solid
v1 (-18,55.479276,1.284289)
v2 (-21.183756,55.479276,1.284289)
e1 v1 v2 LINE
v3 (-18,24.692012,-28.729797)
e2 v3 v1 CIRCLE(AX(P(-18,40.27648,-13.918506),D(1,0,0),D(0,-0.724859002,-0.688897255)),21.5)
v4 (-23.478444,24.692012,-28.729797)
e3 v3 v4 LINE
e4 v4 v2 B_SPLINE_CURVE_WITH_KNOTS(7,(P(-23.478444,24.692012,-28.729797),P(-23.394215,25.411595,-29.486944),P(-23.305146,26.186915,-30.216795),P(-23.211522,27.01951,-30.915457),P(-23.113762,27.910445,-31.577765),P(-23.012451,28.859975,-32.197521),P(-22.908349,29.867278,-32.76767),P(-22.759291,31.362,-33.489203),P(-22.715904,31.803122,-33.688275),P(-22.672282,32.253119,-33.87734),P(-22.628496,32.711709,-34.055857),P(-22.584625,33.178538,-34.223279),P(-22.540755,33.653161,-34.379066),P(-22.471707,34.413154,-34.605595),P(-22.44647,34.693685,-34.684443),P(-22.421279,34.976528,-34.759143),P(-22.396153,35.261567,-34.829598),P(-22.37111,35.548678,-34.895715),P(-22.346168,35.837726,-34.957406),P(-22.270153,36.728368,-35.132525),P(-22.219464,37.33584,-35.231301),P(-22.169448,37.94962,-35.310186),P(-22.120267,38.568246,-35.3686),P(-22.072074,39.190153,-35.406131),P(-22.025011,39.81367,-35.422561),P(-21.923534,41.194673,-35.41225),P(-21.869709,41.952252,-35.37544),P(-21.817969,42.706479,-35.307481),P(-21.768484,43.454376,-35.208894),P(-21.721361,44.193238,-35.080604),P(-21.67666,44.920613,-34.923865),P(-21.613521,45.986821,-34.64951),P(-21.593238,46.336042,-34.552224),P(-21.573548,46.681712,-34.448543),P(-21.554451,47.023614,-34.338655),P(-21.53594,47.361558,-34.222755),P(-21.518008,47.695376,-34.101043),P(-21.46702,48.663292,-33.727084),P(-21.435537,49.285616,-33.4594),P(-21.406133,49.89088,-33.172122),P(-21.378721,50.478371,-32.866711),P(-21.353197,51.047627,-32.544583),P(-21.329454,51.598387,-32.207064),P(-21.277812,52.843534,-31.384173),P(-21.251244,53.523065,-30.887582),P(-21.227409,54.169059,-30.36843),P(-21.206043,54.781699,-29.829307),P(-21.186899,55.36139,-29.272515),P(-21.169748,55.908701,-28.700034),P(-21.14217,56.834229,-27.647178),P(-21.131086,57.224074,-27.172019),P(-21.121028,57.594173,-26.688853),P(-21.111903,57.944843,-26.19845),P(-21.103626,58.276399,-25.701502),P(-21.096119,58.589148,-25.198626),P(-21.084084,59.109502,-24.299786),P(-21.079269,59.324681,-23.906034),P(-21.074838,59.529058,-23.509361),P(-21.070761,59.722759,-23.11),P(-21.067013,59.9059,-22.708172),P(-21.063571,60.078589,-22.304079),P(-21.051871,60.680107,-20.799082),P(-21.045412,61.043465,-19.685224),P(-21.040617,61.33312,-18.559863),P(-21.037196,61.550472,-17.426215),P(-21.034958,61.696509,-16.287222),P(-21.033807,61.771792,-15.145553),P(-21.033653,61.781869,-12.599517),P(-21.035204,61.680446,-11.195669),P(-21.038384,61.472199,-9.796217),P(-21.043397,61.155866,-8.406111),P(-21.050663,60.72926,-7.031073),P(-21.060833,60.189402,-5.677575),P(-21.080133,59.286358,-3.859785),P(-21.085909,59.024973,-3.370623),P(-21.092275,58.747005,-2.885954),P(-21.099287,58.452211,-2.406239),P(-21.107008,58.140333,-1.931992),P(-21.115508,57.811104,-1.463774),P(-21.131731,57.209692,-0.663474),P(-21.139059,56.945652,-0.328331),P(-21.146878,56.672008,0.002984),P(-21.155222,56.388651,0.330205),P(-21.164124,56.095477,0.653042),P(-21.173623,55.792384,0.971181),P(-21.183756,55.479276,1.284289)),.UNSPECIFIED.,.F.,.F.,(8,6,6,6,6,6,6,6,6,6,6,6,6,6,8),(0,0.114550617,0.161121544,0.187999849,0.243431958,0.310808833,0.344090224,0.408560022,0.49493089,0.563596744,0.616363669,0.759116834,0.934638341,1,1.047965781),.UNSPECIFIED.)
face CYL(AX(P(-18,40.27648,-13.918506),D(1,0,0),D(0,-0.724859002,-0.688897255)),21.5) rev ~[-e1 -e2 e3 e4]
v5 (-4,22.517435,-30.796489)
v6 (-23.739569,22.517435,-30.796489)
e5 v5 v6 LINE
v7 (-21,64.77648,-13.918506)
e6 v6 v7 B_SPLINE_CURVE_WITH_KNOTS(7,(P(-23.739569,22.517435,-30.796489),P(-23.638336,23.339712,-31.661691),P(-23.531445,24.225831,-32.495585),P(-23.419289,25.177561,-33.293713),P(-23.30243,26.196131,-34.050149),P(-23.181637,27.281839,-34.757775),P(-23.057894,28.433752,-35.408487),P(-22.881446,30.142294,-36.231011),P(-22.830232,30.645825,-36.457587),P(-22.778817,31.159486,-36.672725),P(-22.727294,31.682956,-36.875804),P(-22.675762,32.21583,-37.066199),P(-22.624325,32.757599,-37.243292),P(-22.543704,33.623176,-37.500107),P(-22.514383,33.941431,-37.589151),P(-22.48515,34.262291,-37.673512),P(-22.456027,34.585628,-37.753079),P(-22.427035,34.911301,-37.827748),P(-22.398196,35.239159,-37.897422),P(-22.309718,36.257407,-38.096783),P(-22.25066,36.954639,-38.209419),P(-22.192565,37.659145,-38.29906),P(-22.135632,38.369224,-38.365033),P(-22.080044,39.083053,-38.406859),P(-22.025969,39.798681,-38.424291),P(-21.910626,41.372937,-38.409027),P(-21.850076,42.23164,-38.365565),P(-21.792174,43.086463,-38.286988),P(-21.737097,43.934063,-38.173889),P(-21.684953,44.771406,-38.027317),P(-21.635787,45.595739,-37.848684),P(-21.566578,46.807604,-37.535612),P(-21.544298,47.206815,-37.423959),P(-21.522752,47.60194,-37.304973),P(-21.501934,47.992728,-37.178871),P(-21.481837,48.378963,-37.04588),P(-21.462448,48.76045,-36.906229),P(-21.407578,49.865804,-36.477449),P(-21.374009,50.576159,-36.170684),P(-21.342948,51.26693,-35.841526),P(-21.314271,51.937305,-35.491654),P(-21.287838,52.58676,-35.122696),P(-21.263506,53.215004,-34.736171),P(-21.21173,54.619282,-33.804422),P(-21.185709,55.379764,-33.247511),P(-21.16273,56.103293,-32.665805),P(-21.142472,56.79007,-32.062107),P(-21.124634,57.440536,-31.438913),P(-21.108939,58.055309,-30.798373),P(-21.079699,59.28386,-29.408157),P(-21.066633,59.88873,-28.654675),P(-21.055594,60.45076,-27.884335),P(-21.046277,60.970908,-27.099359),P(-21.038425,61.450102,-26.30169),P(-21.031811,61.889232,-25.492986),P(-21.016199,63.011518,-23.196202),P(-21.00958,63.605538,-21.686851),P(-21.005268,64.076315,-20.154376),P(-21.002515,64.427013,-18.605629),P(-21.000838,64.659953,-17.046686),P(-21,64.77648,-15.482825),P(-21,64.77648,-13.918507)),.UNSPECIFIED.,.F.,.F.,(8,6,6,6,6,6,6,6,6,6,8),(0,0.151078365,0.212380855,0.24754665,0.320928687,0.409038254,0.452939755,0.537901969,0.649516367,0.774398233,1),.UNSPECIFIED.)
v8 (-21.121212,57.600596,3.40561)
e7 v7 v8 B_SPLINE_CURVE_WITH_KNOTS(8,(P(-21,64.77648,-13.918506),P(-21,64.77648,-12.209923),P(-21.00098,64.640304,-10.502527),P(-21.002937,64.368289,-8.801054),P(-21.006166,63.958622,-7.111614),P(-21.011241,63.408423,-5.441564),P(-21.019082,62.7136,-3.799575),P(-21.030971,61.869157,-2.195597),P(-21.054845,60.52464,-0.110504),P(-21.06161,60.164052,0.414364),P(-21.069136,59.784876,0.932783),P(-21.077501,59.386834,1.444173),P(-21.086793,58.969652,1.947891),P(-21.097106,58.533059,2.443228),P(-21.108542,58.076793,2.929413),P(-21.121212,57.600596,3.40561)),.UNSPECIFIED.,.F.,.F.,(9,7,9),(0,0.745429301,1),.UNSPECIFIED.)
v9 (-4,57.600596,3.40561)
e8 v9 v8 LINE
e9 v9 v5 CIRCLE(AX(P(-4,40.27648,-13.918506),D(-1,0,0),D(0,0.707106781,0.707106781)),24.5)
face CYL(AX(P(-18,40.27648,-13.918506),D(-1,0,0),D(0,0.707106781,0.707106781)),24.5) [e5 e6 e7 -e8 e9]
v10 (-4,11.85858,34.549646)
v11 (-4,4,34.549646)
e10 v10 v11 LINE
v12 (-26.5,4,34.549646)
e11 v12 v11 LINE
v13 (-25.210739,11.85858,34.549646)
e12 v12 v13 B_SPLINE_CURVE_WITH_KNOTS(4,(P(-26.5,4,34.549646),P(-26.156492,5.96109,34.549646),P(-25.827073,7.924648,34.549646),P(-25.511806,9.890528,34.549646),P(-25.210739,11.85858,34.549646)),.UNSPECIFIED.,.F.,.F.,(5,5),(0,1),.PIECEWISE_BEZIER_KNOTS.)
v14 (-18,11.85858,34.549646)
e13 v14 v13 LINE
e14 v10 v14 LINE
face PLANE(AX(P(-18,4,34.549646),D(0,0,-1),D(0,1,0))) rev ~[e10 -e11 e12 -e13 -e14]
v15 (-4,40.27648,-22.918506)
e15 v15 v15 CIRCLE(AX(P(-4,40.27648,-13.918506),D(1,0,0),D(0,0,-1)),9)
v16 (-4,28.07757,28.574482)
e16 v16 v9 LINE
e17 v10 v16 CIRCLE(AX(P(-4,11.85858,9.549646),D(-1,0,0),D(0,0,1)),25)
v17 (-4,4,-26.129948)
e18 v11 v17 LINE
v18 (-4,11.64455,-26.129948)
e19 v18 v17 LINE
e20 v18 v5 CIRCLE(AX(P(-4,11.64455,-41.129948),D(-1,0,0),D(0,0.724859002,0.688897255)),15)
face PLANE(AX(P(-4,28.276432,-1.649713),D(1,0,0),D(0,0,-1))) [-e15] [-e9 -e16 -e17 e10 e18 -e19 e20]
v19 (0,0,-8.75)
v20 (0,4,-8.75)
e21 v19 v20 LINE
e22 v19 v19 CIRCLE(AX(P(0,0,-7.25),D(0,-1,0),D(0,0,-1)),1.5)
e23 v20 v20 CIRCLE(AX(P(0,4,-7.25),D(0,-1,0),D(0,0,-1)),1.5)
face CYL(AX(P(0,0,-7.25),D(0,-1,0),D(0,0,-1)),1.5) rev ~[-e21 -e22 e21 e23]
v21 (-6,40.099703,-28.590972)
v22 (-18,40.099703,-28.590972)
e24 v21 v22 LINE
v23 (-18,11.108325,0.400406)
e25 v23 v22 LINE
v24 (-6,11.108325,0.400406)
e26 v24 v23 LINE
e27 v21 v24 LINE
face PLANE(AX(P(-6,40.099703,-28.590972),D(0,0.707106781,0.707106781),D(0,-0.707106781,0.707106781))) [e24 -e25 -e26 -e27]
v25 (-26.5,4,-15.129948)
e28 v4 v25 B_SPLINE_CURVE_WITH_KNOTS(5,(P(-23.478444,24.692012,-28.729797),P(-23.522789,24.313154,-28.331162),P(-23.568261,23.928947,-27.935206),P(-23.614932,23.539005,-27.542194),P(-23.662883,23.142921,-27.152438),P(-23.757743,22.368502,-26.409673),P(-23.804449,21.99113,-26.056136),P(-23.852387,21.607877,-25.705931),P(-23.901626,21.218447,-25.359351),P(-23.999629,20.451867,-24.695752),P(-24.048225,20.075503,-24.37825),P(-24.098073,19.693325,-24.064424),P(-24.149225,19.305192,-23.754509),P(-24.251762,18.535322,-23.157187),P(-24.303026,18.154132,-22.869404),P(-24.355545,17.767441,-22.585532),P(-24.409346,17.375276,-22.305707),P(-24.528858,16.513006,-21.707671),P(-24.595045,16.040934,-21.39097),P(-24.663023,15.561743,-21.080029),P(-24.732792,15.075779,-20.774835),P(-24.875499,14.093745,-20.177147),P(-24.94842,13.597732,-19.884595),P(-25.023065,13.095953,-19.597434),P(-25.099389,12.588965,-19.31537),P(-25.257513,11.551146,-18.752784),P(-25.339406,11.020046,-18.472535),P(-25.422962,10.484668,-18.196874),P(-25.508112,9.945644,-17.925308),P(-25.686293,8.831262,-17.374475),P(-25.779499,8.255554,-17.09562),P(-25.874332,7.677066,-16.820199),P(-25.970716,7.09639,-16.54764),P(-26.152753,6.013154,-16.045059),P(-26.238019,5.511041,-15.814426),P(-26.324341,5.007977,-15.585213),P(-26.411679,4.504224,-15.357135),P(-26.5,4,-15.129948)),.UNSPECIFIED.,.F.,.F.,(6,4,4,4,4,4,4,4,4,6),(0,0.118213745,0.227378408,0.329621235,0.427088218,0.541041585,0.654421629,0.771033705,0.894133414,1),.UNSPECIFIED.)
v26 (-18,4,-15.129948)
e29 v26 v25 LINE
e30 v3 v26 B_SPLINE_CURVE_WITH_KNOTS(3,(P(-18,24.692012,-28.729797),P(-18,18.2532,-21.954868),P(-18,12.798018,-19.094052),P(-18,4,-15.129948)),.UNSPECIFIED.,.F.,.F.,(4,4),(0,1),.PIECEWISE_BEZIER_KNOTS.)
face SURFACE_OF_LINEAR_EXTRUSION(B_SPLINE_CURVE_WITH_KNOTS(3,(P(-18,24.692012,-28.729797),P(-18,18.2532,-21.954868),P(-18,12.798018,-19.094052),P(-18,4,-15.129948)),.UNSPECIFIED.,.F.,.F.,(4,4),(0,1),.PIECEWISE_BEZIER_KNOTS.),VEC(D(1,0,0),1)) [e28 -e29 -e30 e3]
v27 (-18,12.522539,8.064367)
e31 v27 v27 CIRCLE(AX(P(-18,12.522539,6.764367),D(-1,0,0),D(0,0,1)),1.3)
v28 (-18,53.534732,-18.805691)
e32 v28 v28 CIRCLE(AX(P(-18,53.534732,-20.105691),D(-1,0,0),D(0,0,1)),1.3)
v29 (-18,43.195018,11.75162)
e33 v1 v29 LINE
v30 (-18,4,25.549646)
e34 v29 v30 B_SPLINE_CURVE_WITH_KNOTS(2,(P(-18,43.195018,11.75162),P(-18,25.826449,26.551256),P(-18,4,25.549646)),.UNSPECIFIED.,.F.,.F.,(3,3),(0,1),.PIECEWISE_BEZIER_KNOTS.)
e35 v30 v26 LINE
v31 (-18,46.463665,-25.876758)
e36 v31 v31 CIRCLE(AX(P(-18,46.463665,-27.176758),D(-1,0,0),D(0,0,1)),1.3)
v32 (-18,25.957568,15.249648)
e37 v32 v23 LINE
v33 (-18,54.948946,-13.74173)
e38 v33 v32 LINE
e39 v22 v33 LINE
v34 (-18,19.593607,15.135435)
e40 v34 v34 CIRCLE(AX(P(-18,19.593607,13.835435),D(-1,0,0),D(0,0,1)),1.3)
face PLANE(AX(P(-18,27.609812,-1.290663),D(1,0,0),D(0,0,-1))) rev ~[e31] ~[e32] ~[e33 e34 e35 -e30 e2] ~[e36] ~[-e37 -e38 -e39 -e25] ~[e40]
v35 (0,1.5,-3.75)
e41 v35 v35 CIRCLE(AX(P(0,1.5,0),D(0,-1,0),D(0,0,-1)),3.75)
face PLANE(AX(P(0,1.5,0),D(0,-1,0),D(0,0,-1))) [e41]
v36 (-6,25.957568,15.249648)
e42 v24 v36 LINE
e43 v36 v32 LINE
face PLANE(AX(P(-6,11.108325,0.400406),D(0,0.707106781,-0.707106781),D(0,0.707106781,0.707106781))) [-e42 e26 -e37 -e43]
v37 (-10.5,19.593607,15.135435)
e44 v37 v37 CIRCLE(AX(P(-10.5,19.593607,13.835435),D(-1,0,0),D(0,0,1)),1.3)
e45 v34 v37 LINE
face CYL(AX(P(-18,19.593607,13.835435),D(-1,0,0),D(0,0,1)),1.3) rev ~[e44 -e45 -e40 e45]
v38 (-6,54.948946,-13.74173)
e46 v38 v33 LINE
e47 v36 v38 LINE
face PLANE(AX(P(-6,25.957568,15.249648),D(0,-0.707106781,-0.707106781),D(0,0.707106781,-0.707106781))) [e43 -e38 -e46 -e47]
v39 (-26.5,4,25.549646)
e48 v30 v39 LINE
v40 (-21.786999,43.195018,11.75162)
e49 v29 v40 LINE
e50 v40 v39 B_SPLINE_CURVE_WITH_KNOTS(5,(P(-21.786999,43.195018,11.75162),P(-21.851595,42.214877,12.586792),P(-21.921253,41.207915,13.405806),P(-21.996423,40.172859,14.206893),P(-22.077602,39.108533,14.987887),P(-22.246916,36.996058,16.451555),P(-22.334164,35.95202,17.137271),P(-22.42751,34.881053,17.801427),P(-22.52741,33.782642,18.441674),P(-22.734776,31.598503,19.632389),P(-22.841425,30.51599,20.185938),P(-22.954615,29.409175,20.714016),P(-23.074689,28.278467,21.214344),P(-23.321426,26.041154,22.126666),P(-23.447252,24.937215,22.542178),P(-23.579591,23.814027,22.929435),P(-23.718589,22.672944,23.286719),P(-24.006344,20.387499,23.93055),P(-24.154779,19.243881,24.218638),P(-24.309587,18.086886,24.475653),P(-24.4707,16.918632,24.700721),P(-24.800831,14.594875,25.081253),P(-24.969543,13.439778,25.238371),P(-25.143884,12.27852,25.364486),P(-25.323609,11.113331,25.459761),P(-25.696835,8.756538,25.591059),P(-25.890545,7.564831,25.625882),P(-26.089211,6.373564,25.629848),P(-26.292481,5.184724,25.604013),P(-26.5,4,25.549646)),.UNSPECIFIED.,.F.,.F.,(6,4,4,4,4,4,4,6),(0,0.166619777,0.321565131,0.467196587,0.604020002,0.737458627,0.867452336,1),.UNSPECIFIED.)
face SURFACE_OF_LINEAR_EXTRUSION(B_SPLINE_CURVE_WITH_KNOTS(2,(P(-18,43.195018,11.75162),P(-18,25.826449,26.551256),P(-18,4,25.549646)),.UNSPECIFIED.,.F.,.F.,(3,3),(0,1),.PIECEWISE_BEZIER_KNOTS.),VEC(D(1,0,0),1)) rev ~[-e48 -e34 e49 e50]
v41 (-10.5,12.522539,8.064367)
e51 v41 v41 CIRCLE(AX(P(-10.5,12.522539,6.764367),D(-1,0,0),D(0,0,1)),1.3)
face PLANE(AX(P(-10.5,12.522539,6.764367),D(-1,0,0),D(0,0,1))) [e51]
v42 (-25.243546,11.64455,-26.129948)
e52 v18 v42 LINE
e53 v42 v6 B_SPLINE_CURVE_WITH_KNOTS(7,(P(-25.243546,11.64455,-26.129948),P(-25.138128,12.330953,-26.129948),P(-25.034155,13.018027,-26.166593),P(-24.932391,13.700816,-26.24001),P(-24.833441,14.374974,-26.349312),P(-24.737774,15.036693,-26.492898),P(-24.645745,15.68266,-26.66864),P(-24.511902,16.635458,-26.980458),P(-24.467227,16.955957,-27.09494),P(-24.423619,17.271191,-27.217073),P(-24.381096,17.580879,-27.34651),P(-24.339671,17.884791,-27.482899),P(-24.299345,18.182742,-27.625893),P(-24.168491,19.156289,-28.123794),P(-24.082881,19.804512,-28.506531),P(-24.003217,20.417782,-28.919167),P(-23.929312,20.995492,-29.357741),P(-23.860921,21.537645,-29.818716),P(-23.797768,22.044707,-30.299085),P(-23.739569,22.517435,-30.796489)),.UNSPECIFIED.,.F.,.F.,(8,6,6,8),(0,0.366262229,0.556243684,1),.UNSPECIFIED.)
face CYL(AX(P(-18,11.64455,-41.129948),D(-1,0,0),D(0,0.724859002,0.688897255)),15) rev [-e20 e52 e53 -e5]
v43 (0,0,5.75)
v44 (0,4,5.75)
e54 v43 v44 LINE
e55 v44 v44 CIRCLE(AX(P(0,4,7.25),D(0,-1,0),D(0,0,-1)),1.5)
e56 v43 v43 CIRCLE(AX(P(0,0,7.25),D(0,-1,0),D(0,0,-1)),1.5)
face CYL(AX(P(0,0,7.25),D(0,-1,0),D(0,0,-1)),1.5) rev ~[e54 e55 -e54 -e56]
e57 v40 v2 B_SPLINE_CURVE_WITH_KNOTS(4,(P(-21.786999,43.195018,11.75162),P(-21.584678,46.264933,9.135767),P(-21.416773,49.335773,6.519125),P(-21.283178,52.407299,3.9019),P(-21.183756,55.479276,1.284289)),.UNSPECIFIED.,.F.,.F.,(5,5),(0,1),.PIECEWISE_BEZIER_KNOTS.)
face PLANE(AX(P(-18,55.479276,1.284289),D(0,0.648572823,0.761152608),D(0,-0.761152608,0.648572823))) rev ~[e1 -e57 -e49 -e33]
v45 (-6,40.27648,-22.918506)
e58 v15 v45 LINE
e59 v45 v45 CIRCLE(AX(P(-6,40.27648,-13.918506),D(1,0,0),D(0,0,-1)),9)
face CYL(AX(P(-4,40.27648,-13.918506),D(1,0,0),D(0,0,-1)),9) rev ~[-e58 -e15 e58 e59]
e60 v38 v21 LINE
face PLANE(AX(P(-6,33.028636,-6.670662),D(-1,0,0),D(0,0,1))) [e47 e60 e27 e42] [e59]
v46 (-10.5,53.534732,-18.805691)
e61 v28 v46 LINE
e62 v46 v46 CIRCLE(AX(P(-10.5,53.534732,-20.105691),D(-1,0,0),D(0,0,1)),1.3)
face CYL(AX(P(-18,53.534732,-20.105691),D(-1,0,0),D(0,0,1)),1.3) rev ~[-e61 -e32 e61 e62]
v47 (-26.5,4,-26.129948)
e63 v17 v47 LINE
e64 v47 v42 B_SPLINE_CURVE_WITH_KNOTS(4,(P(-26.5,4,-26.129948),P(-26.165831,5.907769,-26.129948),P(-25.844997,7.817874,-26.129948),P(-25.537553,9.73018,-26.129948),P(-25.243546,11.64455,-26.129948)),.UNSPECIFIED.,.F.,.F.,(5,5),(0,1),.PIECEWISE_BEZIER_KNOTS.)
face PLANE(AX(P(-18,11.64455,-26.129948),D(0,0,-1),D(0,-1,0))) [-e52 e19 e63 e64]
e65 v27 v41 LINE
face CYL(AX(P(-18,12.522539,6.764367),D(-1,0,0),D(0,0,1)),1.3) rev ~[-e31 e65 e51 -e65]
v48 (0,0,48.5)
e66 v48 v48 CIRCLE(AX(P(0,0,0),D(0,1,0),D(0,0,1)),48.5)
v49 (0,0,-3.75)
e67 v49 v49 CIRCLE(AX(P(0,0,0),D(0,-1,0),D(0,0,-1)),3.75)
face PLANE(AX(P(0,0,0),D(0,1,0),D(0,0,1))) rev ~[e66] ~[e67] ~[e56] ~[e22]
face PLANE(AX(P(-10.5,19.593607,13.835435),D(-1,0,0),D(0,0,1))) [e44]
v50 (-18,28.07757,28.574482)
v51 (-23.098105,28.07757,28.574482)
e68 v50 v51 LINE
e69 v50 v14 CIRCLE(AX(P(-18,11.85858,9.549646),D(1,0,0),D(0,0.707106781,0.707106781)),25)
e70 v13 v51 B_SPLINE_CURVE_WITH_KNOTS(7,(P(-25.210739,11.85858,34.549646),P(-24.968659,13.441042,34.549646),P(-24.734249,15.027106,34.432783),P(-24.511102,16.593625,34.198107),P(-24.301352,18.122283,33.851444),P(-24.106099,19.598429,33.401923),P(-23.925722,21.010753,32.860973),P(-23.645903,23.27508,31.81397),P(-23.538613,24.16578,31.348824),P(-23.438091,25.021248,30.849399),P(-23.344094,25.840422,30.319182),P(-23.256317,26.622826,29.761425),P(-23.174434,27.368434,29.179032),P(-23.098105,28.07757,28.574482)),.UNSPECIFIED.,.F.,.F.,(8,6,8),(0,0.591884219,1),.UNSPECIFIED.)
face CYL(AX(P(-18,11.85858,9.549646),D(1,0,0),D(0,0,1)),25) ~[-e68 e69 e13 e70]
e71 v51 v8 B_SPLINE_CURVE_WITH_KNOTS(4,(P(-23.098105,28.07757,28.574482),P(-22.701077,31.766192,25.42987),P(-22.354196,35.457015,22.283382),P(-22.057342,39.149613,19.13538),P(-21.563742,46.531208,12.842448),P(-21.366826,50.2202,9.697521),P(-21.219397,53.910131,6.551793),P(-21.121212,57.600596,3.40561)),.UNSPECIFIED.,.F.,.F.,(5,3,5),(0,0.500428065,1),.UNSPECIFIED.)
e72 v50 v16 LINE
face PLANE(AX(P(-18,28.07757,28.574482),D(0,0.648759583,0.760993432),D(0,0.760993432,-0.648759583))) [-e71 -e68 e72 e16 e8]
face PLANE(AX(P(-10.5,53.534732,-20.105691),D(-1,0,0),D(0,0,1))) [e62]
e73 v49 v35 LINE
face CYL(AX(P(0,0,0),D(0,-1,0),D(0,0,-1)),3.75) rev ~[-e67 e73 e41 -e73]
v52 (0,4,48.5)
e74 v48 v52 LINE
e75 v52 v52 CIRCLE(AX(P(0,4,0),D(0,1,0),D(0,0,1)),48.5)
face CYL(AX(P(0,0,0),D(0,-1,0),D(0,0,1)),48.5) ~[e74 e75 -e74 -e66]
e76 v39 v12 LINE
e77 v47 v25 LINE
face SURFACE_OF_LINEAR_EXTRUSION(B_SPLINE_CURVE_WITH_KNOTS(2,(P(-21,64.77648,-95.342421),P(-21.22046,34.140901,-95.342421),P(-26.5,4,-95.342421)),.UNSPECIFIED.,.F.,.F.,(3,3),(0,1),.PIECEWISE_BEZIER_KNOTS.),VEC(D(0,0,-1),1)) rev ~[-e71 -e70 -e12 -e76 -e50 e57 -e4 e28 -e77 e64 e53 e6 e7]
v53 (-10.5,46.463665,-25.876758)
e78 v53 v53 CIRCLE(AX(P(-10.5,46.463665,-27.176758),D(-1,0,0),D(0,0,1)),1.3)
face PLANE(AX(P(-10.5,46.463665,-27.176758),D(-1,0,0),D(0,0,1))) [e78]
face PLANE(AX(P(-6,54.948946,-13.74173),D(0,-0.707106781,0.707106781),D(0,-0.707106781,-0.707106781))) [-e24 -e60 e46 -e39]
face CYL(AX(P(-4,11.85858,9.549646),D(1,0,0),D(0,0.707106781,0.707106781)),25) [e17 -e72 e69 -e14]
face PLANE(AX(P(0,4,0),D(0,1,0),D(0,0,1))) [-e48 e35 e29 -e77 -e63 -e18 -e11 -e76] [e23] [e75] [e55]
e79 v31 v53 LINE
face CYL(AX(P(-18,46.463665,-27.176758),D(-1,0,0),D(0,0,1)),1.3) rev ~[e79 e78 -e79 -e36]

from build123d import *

# Parameters (mm, degrees)
SKETCH2_R                       = 48.5
BOSS_EXTRUDE1_DEPTH             = 4
SKETCH4_R                       = 1.5
CUT_EXTRUDE2_DEPTH              = 69.705894944
SKETCH5_R                       = 3.75
CUT_EXTRUDE3_DEPTH              = 1.5
BOSS_EXTRUDE2_DEPTH             = 14
CUT_EXTRUDE5_REACH              = 97.597
SKETCH9_R                       = 1.3
CUT_EXTRUDE6_DEPTH              = 7.5
CUT_EXTRUDE9_REACH              = 96.471
SKETCH11_R                      = 9
BOSS_EXTRUDE7_DEPTH             = 9
BOSS_EXTRUDE7_DIRECTION_2_REACH = 104.912
BOSS_EXTRUDE10_DEPTH            = 9
CUT_EXTRUDE17_DEPTH             = 95.342420983
CUT_EXTRUDE17_DEPTH_BACK        = 95.342420983


with BuildPart() as part:
    # Sketch2 → Boss-Extrude1 (new body)
    with BuildSketch(Plane(origin=(0, 0, 0), x_dir=(1, 0, 0), z_dir=(0, 1, 0))):
        with Locations(Location((0, 0, 0), (0, 0, 270))):
            Circle(SKETCH2_R)
    extrude(amount=BOSS_EXTRUDE1_DEPTH)

    # Sketch4 → Cut-Extrude2 (cut, through all)
    with BuildSketch(Plane.XZ):
        with Locations(Location((0, 7.25, 0), (0, 0, 270))):
            Circle(SKETCH4_R)
        with Locations(Location((0, -7.25, 0), (0, 0, 270))):
            Circle(SKETCH4_R)
    extrude(amount=-CUT_EXTRUDE2_DEPTH, mode=Mode.SUBTRACT)

    # Sketch5 → Cut-Extrude3 (cut)
    with BuildSketch(Plane.XZ):
        with Locations(Location((0, 0, 0), (0, 0, 270))):
            Circle(SKETCH5_R)
    extrude(amount=-CUT_EXTRUDE3_DEPTH, mode=Mode.SUBTRACT)

    # Sketch7 → Boss-Extrude2 (add)
    with BuildSketch(Plane(origin=(-4, 0, 0), x_dir=(0, 0, -1), z_dir=(1, 0, 0))):
        with BuildLine():
            Line((23.129947874, 4), (23.129947874, 11.644549616))
            ThreePointArc((23.129947874, 11.644549616), (24.589048403, 18.743749901), (28.729797284, 24.692011643))
            ThreePointArc((28.729797284, 24.692011643), (29.313383054, 55.284736897), (-1.284289494, 55.479275971))
            Line((-1.284289494, 55.479275971), (-27.227315747, 29.536249718))
            ThreePointArc((-27.227315747, 29.536249718), (-32.64663453, 21.425665997), (-34.549646217, 11.858580188))
            Line((-34.549646217, 11.858580188), (-34.549646217, 4))
            Line((-34.549646217, 4), (23.129947874, 4))
        make_face()
    extrude(amount=-BOSS_EXTRUDE2_DEPTH)

    # Sketch8 → Cut-Extrude5 (cut, up to next)
    with BuildSketch(Plane(origin=(-6, 0, 0), x_dir=(0, 0, -1), z_dir=(1, 0, 0)), mode=Mode.PRIVATE) as cut_extrude5_sk1:
        Polygon((-15.249648422, 25.957567857), (13.741729607, 54.948945886), (28.590972012, 40.099703481), (-0.400406017, 11.108325452), align=None)
    cut_extrude5_tool1 = extrude(cut_extrude5_sk1.sketch, amount=-CUT_EXTRUDE5_REACH, mode=Mode.PRIVATE) & part.part
    add(cut_extrude5_tool1.solids().sort_by_distance((-6, 33.028636, -6.670662))[0], mode=Mode.SUBTRACT)

    # Sketch9 → Cut-Extrude6 (cut)
    with BuildSketch(Plane.ZY.offset(18)):
        with Locations((-20.105690637, 53.534732323)):
            Circle(SKETCH9_R)
        with Locations((-27.176758449, 46.463664511)):
            Circle(SKETCH9_R)
        with Locations((6.764367048, 12.522539014)):
            Circle(SKETCH9_R)
        with Locations((13.83543486, 19.593606826)):
            Circle(SKETCH9_R)
    extrude(amount=-CUT_EXTRUDE6_DEPTH, mode=Mode.SUBTRACT)

    # Sketch11 → Cut-Extrude9 (cut, up to next)
    with BuildSketch(Plane(origin=(-4, 0, 0), x_dir=(0, 0, -1), z_dir=(1, 0, 0)), mode=Mode.PRIVATE) as cut_extrude9_sk1:
        with Locations((13.918506302, 40.276480176)):
            Circle(SKETCH11_R)
    cut_extrude9_tool1 = extrude(cut_extrude9_sk1.sketch, amount=-CUT_EXTRUDE9_REACH, mode=Mode.PRIVATE) & part.part
    add(cut_extrude9_tool1.solids().sort_by_distance((-4, 40.27648, -13.918506))[0], mode=Mode.SUBTRACT)

    # Sketch17 → Boss-Extrude7 (add)
    with BuildSketch(Plane.ZY.offset(18)):
        with BuildLine():
            ThreePointArc((34.549646217, 11.858580188), (33.008342843, 20.500891953), (28.574482006, 28.077569775))
            ThreePointArc((28.574482006, 28.077569775), (27.915386359, 28.820289685), (27.227315747, 29.536249718))
            Line((27.227315747, 29.536249718), (1.284289494, 55.479275971))
            Line((1.284289494, 55.479275971), (26.295003593, 26.127182305))
            ThreePointArc((26.295003593, 26.127182305), (30.194232218, 19.461281607), (31.549646217, 11.858580188))
            Line((31.549646217, 11.858580188), (31.549646217, 4))
            Line((31.549646217, 4), (34.549646217, 4))
            Line((34.549646217, 4), (34.549646217, 11.858580188))
        make_face()
        with BuildLine():
            Line((28.574482006, 28.077569775), (3.405609837, 57.600596315))
            ThreePointArc((3.405609837, 57.600596315), (-31.461505391, 57.378912253), (-30.796489049, 22.517434639))
            ThreePointArc((-30.796489049, 22.517434639), (-27.345864981, 17.560549854), (-26.129947874, 11.644549616))
            Line((-26.129947874, 11.644549616), (-26.129947874, 4))
            Line((-26.129947874, 4), (-23.129947874, 4))
            Line((-23.129947874, 4), (-23.129947874, 11.644549616))
            ThreePointArc((-23.129947874, 11.644549616), (-24.589048403, 18.743749901), (-28.729797284, 24.692011643))
            ThreePointArc((-28.729797284, 24.692011643), (-29.313383054, 55.284736897), (1.284289494, 55.479275971))
            Line((1.284289494, 55.479275971), (27.227315747, 29.536249718))
            ThreePointArc((27.227315747, 29.536249718), (27.915386359, 28.820289685), (28.574482006, 28.077569775))
        make_face()
    extrude(amount=BOSS_EXTRUDE7_DEPTH)

    # Boss-Extrude7 direction 2: up to this face of the body (flat: up to its plane)
    boss_extrude7_direction_2_end = Plane(part.part.faces().sort_by_distance((-4, 28.276431801, -1.649713195))[0])
    # Sketch17 → Boss-Extrude7 direction 2 (add, up to the picked face)
    with BuildSketch(Plane.ZY.offset(18), mode=Mode.PRIVATE) as boss_extrude7_direction_2_sk1:
        with BuildLine():
            ThreePointArc((34.549646217, 11.858580188), (33.008342843, 20.500891953), (28.574482006, 28.077569775))
            ThreePointArc((28.574482006, 28.077569775), (27.915386359, 28.820289685), (27.227315747, 29.536249718))
            Line((27.227315747, 29.536249718), (1.284289494, 55.479275971))
            Line((1.284289494, 55.479275971), (26.295003593, 26.127182305))
            ThreePointArc((26.295003593, 26.127182305), (30.194232218, 19.461281607), (31.549646217, 11.858580188))
            Line((31.549646217, 11.858580188), (31.549646217, 4))
            Line((31.549646217, 4), (34.549646217, 4))
            Line((34.549646217, 4), (34.549646217, 11.858580188))
        make_face()
    boss_extrude7_direction_2_tool1 = split(extrude(boss_extrude7_direction_2_sk1.sketch, amount=-BOSS_EXTRUDE7_DIRECTION_2_REACH, mode=Mode.PRIVATE), bisect_by=boss_extrude7_direction_2_end, keep=Keep.BOTH, mode=Mode.PRIVATE)
    # Sketch17 → Boss-Extrude7 direction 2 (add, up to the picked face)
    with BuildSketch(Plane.ZY.offset(18), mode=Mode.PRIVATE) as boss_extrude7_direction_2_sk2:
        with BuildLine():
            Line((28.574482006, 28.077569775), (3.405609837, 57.600596315))
            ThreePointArc((3.405609837, 57.600596315), (-31.461505391, 57.378912253), (-30.796489049, 22.517434639))
            ThreePointArc((-30.796489049, 22.517434639), (-27.345864981, 17.560549854), (-26.129947874, 11.644549616))
            Line((-26.129947874, 11.644549616), (-26.129947874, 4))
            Line((-26.129947874, 4), (-23.129947874, 4))
            Line((-23.129947874, 4), (-23.129947874, 11.644549616))
            ThreePointArc((-23.129947874, 11.644549616), (-24.589048403, 18.743749901), (-28.729797284, 24.692011643))
            ThreePointArc((-28.729797284, 24.692011643), (-29.313383054, 55.284736897), (1.284289494, 55.479275971))
            Line((1.284289494, 55.479275971), (27.227315747, 29.536249718))
            ThreePointArc((27.227315747, 29.536249718), (27.915386359, 28.820289685), (28.574482006, 28.077569775))
        make_face()
    boss_extrude7_direction_2_tool2 = split(extrude(boss_extrude7_direction_2_sk2.sketch, amount=-BOSS_EXTRUDE7_DIRECTION_2_REACH, mode=Mode.PRIVATE), bisect_by=boss_extrude7_direction_2_end, keep=Keep.BOTH, mode=Mode.PRIVATE)
    add(boss_extrude7_direction_2_tool1.solids().sort_by(Axis((-18, 4.612919, 33.049646), (1, 0, 0)))[0])
    add(boss_extrude7_direction_2_tool2.solids().sort_by(Axis((-18, 43.147366, 14.895406), (1, 0, 0)))[0])

    # Sketch25 → Boss-Extrude10 (add)
    with BuildSketch(Plane.ZY.offset(18)):
        with BuildLine():
            ThreePointArc((-28.729797284, 24.692011643), (-24.589048403, 18.743749901), (-23.129947874, 11.644549616))
            Line((-23.129947874, 11.644549616), (-23.129947874, 4))
            Line((-23.129947874, 4), (-15.129947874, 4))
            add(Edge.make_bspline(
                [(-28.729797284, 24.692011643), (-21.954867515, 18.253200081), (-19.09405247, 12.798017691), (-15.129947874, 4)],
                knots=[0, 0, 0, 0, 1, 1, 1, 1], degree=3))
        make_face()
        with BuildLine():
            add(Edge.make_bspline(
                [(11.751619577, 43.19501844), (26.551255916, 25.8264495), (25.549646217, 4)],
                knots=[0, 0, 0, 1, 1, 1], degree=2))
            Line((25.549646217, 4), (31.549646217, 4))
            Line((31.549646217, 4), (31.549646217, 11.858580188))
            ThreePointArc((31.549646217, 11.858580188), (30.194232218, 19.461281607), (26.295003593, 26.127182305))
            Line((26.295003593, 26.127182305), (11.751619577, 43.19501844))
        make_face()
    extrude(amount=BOSS_EXTRUDE10_DEPTH)

    # Sketch29 → Cut-Extrude17 (cut, two sides: drawn at the far end of the back side and taken through both)
    with BuildSketch(Plane.XY.offset(-CUT_EXTRUDE17_DEPTH_BACK)):
        with BuildLine():
            Line((-21, 64.776480176), (-27, 64.776480176))
            Line((-27, 64.776480176), (-27, 4))
            Line((-27, 4), (-26.5, 4))
            add(Edge.make_bspline(
                [(-21, 64.776480176), (-21.220459696, 34.140901434), (-26.5, 4)],
                knots=[0, 0, 0, 1, 1, 1], degree=2))
        make_face()
    extrude(amount=CUT_EXTRUDE17_DEPTH + CUT_EXTRUDE17_DEPTH_BACK, mode=Mode.SUBTRACT)


solid = part.part
